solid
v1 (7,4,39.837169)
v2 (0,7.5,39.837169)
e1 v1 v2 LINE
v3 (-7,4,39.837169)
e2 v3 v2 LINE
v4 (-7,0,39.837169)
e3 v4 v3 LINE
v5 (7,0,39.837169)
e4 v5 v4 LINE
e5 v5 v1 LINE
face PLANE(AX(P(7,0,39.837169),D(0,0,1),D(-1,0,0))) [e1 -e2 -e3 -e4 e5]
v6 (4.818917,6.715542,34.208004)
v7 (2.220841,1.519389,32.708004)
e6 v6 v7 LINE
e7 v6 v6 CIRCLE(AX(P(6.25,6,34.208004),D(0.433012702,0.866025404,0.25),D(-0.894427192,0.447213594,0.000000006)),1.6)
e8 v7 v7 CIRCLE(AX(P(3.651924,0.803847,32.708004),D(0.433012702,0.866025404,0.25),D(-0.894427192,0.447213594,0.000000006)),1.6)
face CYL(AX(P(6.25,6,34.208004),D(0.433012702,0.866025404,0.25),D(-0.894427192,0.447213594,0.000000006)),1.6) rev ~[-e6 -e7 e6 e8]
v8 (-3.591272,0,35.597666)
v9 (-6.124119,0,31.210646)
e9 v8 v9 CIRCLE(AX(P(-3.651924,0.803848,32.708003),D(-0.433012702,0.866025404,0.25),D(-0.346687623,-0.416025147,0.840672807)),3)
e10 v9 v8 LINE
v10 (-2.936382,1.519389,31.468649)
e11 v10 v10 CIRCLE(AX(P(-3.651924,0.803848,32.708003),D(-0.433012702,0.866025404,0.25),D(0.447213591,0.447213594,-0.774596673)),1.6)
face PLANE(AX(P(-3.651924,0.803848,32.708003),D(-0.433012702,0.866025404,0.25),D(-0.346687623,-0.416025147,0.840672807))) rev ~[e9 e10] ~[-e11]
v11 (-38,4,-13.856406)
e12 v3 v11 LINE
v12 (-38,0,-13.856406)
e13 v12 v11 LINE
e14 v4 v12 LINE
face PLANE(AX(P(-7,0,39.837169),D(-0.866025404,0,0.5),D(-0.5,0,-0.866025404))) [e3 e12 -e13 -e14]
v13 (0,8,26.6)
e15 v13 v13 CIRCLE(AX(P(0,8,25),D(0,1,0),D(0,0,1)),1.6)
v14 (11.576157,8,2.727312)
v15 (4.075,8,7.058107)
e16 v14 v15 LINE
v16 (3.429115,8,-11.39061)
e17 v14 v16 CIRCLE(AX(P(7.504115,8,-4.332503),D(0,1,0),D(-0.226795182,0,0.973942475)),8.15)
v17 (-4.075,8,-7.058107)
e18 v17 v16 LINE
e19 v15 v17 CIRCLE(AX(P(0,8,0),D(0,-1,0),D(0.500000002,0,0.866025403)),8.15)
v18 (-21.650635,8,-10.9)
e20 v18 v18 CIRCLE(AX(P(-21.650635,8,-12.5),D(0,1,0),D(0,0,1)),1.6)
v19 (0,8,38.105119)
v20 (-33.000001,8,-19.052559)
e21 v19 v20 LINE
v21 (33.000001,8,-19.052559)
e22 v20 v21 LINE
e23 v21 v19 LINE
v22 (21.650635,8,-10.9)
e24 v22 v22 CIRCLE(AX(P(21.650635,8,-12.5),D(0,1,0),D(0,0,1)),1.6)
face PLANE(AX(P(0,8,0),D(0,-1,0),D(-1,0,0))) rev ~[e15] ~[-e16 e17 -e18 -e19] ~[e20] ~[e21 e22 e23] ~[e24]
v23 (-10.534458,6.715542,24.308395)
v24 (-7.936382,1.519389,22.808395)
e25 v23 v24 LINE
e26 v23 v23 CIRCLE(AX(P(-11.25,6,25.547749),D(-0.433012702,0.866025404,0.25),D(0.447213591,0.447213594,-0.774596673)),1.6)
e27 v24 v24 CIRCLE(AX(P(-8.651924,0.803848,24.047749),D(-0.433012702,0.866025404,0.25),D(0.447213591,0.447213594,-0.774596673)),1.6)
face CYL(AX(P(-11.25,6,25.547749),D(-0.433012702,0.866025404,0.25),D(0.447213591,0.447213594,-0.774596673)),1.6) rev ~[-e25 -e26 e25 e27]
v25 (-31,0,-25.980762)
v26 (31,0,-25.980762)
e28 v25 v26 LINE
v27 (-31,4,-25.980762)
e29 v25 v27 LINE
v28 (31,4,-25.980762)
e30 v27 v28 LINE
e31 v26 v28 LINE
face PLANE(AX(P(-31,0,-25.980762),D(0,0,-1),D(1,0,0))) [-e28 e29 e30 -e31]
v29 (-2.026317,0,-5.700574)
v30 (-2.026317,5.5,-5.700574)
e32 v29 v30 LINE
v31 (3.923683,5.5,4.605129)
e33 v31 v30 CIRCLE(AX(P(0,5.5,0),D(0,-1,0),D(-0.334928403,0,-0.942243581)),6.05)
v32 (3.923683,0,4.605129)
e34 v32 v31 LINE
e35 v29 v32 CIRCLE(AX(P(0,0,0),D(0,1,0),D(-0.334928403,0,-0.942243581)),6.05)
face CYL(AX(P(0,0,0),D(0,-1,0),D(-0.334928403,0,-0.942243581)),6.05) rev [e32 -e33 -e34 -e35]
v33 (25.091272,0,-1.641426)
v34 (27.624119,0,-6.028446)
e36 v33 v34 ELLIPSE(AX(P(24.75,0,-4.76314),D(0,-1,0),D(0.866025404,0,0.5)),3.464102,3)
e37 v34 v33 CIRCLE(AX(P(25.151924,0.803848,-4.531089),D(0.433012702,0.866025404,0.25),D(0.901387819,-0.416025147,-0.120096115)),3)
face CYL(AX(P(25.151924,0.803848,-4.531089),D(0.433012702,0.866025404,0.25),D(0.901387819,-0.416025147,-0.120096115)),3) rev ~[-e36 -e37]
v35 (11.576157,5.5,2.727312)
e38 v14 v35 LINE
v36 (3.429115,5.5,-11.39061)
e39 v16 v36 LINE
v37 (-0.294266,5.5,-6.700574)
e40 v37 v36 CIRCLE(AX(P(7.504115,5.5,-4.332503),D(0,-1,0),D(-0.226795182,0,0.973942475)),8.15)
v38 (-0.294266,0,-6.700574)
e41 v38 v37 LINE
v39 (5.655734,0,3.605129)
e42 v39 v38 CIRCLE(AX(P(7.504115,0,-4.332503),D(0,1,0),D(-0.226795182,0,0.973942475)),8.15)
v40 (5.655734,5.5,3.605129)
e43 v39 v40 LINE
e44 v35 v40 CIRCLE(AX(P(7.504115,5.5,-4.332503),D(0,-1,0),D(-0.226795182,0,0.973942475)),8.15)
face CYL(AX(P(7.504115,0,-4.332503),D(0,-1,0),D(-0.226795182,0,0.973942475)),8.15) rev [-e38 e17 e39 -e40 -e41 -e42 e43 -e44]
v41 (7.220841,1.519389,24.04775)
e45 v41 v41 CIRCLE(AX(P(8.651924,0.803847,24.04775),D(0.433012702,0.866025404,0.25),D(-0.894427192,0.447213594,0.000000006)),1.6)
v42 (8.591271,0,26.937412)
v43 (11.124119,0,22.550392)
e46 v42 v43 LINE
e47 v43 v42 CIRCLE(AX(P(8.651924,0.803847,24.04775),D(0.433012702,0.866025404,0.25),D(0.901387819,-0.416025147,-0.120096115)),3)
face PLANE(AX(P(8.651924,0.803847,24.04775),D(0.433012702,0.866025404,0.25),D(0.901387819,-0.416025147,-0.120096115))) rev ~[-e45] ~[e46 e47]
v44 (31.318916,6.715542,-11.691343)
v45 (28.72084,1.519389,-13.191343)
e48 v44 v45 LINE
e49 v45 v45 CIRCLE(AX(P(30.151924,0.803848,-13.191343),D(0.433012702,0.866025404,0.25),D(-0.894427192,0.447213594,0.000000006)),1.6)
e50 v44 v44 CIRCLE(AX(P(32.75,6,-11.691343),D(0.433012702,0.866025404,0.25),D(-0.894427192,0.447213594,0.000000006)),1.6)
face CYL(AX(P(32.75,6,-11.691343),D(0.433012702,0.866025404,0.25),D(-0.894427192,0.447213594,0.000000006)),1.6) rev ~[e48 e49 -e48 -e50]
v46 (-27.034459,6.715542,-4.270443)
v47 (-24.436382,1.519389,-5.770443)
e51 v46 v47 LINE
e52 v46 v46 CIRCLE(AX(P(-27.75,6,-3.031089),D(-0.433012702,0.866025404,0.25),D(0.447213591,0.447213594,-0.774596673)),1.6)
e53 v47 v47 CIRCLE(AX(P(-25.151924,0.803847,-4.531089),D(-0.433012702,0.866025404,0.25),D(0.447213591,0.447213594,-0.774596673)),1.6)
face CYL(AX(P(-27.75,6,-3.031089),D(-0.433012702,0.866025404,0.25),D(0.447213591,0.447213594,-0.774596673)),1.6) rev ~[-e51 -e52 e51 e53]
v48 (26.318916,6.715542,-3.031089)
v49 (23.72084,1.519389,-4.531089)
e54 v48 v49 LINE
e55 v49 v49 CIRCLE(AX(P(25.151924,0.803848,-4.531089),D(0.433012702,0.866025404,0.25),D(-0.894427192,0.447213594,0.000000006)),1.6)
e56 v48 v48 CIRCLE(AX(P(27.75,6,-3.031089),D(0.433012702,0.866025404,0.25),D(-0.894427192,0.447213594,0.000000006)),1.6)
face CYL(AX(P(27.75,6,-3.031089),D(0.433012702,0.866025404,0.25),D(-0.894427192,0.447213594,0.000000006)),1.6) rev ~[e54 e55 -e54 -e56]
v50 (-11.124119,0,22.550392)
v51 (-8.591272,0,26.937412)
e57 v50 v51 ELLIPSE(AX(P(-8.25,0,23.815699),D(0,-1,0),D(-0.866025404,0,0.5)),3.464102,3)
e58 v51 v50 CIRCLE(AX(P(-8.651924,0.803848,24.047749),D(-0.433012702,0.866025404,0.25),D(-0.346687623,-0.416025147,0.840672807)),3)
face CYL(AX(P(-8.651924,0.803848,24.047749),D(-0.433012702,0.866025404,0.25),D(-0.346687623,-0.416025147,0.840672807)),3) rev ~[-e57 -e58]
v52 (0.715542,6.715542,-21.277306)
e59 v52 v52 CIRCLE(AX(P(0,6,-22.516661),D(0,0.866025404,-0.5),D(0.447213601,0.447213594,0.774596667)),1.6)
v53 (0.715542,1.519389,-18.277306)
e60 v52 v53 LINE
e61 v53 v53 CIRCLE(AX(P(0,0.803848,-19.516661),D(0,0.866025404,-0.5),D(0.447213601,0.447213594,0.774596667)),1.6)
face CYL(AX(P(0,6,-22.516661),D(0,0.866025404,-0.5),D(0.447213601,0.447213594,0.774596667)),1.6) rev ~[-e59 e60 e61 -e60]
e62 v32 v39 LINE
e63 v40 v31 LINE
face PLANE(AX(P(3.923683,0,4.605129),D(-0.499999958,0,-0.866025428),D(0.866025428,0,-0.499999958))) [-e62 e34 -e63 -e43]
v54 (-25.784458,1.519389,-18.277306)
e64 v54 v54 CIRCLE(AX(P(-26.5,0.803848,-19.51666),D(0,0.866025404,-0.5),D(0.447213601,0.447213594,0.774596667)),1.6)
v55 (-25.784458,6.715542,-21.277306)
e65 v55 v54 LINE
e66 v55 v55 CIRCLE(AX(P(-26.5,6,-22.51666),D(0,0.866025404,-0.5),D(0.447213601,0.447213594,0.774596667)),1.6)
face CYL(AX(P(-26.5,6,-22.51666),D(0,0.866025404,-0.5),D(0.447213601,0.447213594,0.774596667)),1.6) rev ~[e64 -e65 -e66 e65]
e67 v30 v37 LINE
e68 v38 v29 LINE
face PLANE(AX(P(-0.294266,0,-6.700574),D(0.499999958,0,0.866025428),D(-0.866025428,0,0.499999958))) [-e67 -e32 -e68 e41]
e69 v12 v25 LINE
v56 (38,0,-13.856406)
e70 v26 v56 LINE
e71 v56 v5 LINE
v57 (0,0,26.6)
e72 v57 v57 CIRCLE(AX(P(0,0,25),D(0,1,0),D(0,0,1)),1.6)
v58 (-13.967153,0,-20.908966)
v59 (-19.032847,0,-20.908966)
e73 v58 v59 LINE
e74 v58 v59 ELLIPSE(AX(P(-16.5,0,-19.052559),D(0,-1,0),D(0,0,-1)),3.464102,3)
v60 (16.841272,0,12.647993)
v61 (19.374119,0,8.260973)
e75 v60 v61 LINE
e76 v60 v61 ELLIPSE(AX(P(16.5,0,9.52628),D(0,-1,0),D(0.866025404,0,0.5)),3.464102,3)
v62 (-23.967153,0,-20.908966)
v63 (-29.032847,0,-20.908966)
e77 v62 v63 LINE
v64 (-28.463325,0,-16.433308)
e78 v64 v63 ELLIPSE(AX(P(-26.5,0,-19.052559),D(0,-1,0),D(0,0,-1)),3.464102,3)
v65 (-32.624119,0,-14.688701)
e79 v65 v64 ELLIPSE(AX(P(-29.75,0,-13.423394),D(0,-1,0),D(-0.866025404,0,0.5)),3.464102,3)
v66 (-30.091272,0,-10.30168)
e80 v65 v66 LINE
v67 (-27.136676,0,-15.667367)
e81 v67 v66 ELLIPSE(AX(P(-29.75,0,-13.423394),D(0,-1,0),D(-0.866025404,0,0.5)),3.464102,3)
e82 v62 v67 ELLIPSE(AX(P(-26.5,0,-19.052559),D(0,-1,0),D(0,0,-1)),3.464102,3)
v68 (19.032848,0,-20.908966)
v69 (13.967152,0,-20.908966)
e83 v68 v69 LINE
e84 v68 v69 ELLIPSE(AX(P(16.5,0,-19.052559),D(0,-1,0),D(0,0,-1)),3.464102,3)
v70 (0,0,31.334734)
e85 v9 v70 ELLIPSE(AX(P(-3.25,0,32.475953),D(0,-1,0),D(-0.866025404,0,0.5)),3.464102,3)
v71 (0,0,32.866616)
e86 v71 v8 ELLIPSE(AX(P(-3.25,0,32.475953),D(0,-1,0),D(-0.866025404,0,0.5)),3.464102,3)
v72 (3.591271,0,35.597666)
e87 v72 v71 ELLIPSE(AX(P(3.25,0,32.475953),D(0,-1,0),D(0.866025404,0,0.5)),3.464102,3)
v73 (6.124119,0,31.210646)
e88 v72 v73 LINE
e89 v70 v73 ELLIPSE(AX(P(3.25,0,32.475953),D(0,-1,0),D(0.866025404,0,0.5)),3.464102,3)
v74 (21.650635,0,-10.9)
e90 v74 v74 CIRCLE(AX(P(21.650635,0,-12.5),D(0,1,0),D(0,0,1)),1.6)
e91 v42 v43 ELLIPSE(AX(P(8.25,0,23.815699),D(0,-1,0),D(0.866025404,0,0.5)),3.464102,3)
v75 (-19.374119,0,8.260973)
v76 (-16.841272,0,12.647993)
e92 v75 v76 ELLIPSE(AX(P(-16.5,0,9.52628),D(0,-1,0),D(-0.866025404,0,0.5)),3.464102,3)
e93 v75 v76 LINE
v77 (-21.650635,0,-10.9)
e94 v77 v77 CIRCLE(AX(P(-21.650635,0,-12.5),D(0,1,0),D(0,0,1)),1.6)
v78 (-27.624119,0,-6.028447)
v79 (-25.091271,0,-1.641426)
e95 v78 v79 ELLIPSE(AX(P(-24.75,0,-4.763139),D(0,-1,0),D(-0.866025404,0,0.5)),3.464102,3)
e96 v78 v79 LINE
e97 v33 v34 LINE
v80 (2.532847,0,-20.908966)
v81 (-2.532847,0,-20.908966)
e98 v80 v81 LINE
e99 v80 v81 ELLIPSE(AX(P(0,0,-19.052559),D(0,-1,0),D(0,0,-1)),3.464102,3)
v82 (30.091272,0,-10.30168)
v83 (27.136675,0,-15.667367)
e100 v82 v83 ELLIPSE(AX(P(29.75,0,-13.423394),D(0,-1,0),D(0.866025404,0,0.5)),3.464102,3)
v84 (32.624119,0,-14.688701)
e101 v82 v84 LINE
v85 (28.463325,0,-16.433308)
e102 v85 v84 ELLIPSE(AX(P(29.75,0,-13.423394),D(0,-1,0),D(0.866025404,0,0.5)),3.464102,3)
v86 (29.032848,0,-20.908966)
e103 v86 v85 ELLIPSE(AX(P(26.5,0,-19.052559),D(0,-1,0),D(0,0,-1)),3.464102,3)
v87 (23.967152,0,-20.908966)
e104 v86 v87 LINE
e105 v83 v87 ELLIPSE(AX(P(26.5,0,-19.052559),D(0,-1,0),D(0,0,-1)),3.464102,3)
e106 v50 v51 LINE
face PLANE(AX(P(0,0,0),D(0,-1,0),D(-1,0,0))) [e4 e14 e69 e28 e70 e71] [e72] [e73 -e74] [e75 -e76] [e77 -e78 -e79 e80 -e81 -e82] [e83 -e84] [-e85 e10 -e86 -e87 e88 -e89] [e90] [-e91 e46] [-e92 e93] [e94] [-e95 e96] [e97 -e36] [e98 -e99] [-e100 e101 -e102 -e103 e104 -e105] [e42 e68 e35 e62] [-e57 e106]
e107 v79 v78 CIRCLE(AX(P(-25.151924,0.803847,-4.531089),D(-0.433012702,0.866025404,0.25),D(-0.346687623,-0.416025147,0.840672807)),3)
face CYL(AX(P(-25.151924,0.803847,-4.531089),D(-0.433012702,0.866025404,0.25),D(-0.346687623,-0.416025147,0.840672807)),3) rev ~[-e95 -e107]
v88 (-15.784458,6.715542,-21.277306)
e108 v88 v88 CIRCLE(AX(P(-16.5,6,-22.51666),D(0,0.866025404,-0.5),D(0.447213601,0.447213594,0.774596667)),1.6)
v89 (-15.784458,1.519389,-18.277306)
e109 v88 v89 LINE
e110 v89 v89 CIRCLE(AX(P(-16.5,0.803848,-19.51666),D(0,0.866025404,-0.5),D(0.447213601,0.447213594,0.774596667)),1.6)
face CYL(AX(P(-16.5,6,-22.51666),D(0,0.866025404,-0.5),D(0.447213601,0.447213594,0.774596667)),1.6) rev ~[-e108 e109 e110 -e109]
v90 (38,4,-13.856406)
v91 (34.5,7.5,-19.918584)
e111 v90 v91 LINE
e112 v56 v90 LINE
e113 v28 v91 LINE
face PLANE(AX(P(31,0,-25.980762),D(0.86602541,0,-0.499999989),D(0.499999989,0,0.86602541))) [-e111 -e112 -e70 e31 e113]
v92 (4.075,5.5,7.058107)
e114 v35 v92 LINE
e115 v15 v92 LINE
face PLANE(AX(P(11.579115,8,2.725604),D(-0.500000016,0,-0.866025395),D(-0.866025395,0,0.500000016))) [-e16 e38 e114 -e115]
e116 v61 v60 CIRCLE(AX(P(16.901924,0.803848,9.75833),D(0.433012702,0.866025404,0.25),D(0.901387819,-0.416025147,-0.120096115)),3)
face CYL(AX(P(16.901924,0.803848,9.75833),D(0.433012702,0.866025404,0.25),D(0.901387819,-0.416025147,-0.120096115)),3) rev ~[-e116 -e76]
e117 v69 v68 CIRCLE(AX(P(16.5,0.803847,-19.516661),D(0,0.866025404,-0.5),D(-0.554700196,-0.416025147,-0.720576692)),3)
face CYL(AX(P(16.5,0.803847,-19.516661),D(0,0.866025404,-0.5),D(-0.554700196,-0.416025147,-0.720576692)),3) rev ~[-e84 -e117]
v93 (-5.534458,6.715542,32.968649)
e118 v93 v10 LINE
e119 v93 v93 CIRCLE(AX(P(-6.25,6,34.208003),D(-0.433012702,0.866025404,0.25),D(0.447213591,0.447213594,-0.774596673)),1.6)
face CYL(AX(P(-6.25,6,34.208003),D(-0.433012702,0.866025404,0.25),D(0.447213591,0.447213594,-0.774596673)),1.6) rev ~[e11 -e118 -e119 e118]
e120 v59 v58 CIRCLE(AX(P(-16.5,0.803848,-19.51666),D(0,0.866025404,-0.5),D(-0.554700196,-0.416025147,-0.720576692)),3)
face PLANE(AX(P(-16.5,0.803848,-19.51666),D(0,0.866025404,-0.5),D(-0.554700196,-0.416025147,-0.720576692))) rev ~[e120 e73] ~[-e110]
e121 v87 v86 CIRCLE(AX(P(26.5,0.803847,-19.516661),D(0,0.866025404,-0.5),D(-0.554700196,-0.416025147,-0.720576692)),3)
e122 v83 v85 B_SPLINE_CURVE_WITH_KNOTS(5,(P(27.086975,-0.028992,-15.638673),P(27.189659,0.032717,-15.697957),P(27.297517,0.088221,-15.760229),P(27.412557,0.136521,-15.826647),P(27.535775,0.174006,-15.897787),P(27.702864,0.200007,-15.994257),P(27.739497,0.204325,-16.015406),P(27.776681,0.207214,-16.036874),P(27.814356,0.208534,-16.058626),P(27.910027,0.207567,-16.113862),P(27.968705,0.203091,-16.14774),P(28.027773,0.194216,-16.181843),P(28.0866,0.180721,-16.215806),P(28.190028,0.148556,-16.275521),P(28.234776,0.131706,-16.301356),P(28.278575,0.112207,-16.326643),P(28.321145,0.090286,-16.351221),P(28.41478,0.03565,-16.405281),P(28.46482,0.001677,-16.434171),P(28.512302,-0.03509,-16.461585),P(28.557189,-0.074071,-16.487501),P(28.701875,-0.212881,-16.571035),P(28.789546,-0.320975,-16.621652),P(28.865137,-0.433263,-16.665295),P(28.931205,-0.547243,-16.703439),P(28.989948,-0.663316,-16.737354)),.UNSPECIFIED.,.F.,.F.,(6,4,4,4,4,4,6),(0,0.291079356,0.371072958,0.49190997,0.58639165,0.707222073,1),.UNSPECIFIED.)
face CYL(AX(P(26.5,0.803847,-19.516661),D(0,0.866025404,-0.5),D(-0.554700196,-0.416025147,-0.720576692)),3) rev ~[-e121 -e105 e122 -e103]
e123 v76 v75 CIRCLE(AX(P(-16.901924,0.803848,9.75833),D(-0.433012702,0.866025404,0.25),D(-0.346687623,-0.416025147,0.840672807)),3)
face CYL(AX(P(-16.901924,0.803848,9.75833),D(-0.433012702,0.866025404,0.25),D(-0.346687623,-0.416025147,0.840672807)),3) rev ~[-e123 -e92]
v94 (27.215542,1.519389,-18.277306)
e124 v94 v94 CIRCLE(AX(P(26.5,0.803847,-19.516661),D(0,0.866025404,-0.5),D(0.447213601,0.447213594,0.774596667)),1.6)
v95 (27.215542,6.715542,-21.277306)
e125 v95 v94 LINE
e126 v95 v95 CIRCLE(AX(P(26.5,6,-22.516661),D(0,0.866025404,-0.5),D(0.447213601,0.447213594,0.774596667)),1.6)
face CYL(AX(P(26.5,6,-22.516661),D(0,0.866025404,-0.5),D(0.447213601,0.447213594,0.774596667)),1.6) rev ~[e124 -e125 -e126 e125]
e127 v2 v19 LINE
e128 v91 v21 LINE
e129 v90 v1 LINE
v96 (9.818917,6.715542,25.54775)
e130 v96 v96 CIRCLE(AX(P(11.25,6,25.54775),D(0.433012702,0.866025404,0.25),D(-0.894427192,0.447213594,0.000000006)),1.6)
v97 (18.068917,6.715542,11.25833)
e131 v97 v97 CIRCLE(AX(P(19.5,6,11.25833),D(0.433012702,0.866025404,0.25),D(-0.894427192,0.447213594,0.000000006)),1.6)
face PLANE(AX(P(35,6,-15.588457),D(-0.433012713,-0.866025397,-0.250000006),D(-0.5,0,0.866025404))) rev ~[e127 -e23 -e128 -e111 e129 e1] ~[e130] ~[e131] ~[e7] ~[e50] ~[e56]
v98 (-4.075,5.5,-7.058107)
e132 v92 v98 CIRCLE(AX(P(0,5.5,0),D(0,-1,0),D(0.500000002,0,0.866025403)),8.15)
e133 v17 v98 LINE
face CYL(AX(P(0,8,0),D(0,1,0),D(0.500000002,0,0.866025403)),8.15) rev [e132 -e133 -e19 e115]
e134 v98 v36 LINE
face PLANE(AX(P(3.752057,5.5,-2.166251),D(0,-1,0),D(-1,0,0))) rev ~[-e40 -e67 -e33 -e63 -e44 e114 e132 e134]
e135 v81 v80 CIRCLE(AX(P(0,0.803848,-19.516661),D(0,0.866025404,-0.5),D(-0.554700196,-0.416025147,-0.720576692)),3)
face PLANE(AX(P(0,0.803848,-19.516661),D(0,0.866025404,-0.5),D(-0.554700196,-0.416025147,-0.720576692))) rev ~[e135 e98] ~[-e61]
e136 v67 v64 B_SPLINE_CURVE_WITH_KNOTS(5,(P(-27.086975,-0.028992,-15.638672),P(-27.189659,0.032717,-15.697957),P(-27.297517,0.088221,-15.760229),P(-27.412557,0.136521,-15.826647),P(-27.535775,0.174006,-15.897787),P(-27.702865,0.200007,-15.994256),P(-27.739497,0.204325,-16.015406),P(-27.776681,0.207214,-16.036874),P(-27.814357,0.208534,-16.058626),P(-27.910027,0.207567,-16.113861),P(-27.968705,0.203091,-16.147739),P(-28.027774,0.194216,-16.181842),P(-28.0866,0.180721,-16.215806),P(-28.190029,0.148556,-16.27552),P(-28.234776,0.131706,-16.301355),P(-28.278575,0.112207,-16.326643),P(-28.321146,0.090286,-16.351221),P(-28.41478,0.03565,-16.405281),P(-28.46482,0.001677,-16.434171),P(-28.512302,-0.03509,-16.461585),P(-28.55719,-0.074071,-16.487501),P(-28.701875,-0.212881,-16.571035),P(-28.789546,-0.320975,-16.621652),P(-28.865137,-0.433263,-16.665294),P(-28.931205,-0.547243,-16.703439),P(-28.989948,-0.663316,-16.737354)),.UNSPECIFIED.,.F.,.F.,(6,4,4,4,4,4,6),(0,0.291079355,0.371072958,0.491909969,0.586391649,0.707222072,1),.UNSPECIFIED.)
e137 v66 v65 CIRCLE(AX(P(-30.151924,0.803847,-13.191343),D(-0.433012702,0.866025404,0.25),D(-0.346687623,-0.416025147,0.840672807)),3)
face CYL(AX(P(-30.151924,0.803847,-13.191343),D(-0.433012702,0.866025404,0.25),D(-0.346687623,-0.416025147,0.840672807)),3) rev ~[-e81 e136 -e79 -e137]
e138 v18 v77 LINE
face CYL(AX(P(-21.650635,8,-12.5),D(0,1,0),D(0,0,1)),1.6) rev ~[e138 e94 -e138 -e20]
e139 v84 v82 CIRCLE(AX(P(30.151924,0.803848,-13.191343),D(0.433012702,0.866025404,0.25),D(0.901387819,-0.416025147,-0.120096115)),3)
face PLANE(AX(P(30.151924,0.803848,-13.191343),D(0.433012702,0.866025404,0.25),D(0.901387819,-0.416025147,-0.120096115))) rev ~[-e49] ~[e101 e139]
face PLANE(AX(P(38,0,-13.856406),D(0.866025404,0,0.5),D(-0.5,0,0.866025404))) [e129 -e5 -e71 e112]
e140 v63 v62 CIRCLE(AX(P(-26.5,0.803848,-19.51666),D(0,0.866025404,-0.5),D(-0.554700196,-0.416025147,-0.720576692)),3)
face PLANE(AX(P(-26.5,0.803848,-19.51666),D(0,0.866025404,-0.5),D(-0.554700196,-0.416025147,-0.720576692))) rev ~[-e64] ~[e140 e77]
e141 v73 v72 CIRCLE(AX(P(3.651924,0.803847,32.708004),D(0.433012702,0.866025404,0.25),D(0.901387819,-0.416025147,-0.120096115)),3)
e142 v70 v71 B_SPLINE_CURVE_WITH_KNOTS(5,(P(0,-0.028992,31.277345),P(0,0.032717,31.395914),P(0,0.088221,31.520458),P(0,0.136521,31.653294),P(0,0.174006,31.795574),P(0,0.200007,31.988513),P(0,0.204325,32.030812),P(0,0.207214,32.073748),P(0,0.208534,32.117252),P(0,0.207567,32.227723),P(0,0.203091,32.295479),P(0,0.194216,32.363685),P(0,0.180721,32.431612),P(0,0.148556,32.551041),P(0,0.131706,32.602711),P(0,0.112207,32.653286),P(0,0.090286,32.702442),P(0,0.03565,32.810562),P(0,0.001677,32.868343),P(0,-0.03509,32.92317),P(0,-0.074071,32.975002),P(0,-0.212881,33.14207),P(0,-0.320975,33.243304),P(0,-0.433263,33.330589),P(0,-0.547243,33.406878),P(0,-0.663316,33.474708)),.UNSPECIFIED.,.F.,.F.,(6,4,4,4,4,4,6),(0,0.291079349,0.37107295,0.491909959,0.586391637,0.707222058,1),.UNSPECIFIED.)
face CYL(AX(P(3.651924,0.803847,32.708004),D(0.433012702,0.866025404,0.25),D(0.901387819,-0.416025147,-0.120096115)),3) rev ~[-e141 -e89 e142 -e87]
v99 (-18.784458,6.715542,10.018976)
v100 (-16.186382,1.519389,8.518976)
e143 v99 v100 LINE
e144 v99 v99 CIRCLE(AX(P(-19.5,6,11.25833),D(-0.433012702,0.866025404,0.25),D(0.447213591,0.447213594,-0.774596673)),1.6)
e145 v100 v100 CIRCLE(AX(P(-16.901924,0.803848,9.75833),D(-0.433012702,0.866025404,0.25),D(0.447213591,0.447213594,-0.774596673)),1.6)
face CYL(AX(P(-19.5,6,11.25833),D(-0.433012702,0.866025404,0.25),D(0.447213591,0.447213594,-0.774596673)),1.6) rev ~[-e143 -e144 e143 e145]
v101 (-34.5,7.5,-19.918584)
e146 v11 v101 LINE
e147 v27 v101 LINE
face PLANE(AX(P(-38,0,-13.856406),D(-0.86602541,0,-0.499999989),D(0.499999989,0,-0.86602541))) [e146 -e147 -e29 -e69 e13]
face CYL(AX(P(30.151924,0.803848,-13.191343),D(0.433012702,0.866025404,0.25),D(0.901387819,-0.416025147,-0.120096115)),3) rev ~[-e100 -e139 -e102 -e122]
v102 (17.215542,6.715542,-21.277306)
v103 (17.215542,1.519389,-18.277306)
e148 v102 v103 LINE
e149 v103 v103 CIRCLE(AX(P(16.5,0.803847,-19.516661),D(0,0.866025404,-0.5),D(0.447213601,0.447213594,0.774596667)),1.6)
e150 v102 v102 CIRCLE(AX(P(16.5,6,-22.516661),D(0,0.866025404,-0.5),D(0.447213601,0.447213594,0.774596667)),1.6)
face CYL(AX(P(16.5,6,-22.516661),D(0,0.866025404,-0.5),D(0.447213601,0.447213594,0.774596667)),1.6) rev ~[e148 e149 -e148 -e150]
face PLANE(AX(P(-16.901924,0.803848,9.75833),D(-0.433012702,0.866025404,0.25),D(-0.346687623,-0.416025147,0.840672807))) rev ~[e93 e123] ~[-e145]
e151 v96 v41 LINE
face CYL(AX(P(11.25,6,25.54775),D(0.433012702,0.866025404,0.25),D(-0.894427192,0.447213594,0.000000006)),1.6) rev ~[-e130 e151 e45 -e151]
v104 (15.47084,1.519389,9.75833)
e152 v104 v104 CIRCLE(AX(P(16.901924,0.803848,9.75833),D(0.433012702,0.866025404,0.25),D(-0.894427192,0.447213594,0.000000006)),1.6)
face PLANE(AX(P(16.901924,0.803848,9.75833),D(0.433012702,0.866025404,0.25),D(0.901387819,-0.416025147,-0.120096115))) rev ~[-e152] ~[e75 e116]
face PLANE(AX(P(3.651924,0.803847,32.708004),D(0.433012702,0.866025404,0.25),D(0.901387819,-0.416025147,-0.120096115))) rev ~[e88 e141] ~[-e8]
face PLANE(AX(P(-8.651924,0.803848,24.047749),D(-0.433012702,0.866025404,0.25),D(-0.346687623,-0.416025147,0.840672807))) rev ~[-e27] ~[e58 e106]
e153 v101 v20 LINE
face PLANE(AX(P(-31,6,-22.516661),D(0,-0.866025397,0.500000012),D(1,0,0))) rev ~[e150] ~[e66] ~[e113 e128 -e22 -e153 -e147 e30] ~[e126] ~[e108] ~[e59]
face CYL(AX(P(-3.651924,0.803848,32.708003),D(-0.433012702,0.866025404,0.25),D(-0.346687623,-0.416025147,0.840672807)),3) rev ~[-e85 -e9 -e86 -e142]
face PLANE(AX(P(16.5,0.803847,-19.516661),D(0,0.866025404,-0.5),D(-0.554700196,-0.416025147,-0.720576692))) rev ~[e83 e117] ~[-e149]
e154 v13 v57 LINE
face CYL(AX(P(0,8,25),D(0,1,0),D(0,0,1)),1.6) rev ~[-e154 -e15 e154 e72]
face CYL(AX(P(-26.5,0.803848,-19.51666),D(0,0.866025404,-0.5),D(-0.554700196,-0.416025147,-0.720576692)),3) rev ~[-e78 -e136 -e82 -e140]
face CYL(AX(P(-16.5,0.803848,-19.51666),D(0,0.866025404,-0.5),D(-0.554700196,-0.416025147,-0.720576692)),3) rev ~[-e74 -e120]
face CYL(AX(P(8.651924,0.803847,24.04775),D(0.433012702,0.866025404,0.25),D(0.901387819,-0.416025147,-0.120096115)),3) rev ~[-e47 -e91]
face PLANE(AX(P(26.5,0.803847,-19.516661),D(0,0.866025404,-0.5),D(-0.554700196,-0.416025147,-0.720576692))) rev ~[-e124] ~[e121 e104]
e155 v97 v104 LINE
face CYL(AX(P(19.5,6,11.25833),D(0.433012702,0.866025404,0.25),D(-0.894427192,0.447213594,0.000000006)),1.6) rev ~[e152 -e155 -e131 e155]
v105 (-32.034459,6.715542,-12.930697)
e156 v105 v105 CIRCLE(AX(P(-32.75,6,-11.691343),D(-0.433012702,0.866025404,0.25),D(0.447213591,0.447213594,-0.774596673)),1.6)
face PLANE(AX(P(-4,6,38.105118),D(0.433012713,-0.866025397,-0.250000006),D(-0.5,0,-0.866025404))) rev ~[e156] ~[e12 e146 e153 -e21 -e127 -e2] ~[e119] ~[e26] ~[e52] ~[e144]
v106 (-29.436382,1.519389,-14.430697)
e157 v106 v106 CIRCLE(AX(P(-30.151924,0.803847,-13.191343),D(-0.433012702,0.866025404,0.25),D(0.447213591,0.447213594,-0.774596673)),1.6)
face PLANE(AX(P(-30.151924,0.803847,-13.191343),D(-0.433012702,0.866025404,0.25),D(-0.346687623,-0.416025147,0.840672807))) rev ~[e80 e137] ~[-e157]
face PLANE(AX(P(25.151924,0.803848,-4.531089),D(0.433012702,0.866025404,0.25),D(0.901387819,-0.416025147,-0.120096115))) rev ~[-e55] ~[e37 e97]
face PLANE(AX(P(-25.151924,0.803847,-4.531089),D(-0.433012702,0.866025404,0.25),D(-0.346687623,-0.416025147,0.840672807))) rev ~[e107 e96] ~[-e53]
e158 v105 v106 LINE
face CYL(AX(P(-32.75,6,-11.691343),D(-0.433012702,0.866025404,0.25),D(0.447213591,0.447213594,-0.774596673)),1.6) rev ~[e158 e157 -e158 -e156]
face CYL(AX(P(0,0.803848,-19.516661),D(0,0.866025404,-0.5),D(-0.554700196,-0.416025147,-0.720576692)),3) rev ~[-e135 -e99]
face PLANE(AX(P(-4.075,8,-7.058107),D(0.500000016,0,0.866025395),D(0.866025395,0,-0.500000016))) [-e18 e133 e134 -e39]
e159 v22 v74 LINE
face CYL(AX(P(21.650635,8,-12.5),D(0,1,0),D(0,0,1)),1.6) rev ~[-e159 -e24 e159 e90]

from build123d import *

# Parameters (mm, degrees)
BOSS_EXTRUDE1_DEPTH   = 8
CHAMFER1_SIZE         = 4
CHAMFER1_SIZE2        = 6.928203
CHAMFER1_PART_2_SIZE  = 4
CHAMFER1_PART_2_SIZE2 = 6.928203
CHAMFER1_PART_3_SIZE  = 4
CHAMFER1_PART_3_SIZE2 = 6.928203
CUT_EXTRUDE1_REACH    = 61.292
SKETCH2_R             = 1.6
CUT_EXTRUDE2_REACH    = 67.292
CUT_EXTRUDE2_START    = -6
SKETCH3_R             = 3
CIRPATTERN1_COUNT     = 3
CUT_EXTRUDE4_DEPTH    = 2.5
CUT_EXTRUDE5_REACH    = 57.633
SKETCH10_R            = 1.6


with BuildPart() as part:
    # Sketch1 → Boss-Extrude1 (new body)
    with BuildSketch(Plane(origin=(0, 0, 0), x_dir=(1, 0, 0), z_dir=(0, 1, 0))):
        Polygon((-31, 25.980762), (31, 25.980762), (38, 13.856406), (7, -39.837169), (-7, -39.837169), (-38, 13.856406), align=None)
        with BuildLine():
            Line((3.923683, -4.605129), (5.655734, -3.605129))
            ThreePointArc((5.655734, -3.605129), (14.562222, 8.407503), (-0.294266, 6.700574))
            Line((-0.294266, 6.700574), (-2.026317, 5.700574))
            ThreePointArc((-2.026317, 5.700574), (-5.239454, -3.025), (3.923683, -4.605129))
        make_face(mode=Mode.SUBTRACT)
    extrude(amount=BOSS_EXTRUDE1_DEPTH)

    # Chamfer1
    chamfer1_edges = [part.edges().sort_by_distance(p)[0] for p in [
        (22.5, 8, 12.990381),
    ]]
    chamfer1_side = [part.faces().sort_by_distance(p)[0] for p in [
        (22.5, 4, 12.990381),
    ]]
    chamfer(chamfer1_edges, length=CHAMFER1_SIZE, length2=CHAMFER1_SIZE2, reference=chamfer1_side[0])

    # Chamfer1 part 2
    chamfer1_part_2_edges = [part.edges().sort_by_distance(p)[0] for p in [
        (-22.5, 8, 12.990381),
    ]]
    chamfer1_part_2_side = [part.faces().sort_by_distance(p)[0] for p in [
        (-22.5, 4, 12.990381),
    ]]
    chamfer(chamfer1_part_2_edges, length=CHAMFER1_PART_2_SIZE, length2=CHAMFER1_PART_2_SIZE2, reference=chamfer1_part_2_side[0])

    # Chamfer1 part 3
    chamfer1_part_3_edges = [part.edges().sort_by_distance(p)[0] for p in [
        (0, 8, -25.980762),
    ]]
    chamfer1_part_3_side = [part.faces().sort_by_distance(p)[0] for p in [
        (0, 4, -25.980762),
    ]]
    chamfer(chamfer1_part_3_edges, length=CHAMFER1_PART_3_SIZE, length2=CHAMFER1_PART_3_SIZE2, reference=chamfer1_part_3_side[0])

    # Cut-Extrude1: up to this plane
    cut_extrude1_end = Plane(origin=(0, 0, 0), z_dir=(0, -1, 0))
    # Sketch2 → Cut-Extrude1 (cut, up to the surface)
    with BuildSketch(Plane(origin=(7.125, 14.25, 4.113621), x_dir=(0.9013878188659966, -0.41602514716892336, -0.12009611535381544), z_dir=(0.43301270189222085, 0.8660254037844383, 0.24999999999999917)), mode=Mode.PRIVATE) as cut_extrude1_sk1:
        with Locations(Location((28.428385, 12.89678, 0), (0, 0, 172.874984))):
            Circle(SKETCH2_R)
    cut_extrude1_tool1 = split(extrude(cut_extrude1_sk1.sketch, amount=-CUT_EXTRUDE1_REACH, mode=Mode.PRIVATE), bisect_by=cut_extrude1_end, keep=Keep.BOTH, mode=Mode.PRIVATE)
    # Sketch2 → Cut-Extrude1 (cut, up to the surface)
    with BuildSketch(Plane(origin=(7.125, 14.25, 4.113621), x_dir=(0.9013878188659966, -0.41602514716892336, -0.12009611535381544), z_dir=(0.43301270189222085, 0.8660254037844383, 0.24999999999999917)), mode=Mode.PRIVATE) as cut_extrude1_sk2:
        with Locations(Location((-0.970725, -31.201886, 0), (0, 0, 172.874984))):
            Circle(SKETCH2_R)
    cut_extrude1_tool2 = split(extrude(cut_extrude1_sk2.sketch, amount=-CUT_EXTRUDE1_REACH, mode=Mode.PRIVATE), bisect_by=cut_extrude1_end, keep=Keep.BOTH, mode=Mode.PRIVATE)
    # Sketch2 → Cut-Extrude1 (cut, up to the surface)
    with BuildSketch(Plane(origin=(7.125, 14.25, 4.113621), x_dir=(0.9013878188659966, -0.41602514716892336, -0.12009611535381544), z_dir=(0.43301270189222085, 0.8660254037844383, 0.24999999999999917)), mode=Mode.PRIVATE) as cut_extrude1_sk3:
        with Locations(Location((13.72883, -9.152553, 0), (0, 0, 172.874984))):
            Circle(SKETCH2_R)
    cut_extrude1_tool3 = split(extrude(cut_extrude1_sk3.sketch, amount=-CUT_EXTRUDE1_REACH, mode=Mode.PRIVATE), bisect_by=cut_extrude1_end, keep=Keep.BOTH, mode=Mode.PRIVATE)
    # Sketch2 → Cut-Extrude1 (cut, up to the surface)
    with BuildSketch(Plane(origin=(7.125, 14.25, 4.113621), x_dir=(0.9013878188659966, -0.41602514716892336, -0.12009611535381544), z_dir=(0.43301270189222085, 0.8660254037844383, 0.24999999999999917)), mode=Mode.PRIVATE) as cut_extrude1_sk4:
        with Locations(Location((22.881383, 4.576277, 0), (0, 0, 172.874984))):
            Circle(SKETCH2_R)
    cut_extrude1_tool4 = split(extrude(cut_extrude1_sk4.sketch, amount=-CUT_EXTRUDE1_REACH, mode=Mode.PRIVATE), bisect_by=cut_extrude1_end, keep=Keep.BOTH, mode=Mode.PRIVATE)
    # Sketch2 → Cut-Extrude1 (cut, up to the surface)
    with BuildSketch(Plane(origin=(7.125, 14.25, 4.113621), x_dir=(0.9013878188659966, -0.41602514716892336, -0.12009611535381544), z_dir=(0.43301270189222085, 0.8660254037844383, 0.24999999999999917)), mode=Mode.PRIVATE) as cut_extrude1_sk5:
        with Locations(Location((4.576277, -22.881383, 0), (0, 0, 172.874984))):
            Circle(SKETCH2_R)
    cut_extrude1_tool5 = split(extrude(cut_extrude1_sk5.sketch, amount=-CUT_EXTRUDE1_REACH, mode=Mode.PRIVATE), bisect_by=cut_extrude1_end, keep=Keep.BOTH, mode=Mode.PRIVATE)
    cut_extrude1 = cut_extrude1_tool1.solids().sort_by_distance((32.75, 6, -11.691343))[0] + cut_extrude1_tool2.solids().sort_by_distance((6.25, 6, 34.208003))[0] + cut_extrude1_tool3.solids().sort_by_distance((19.5, 6, 11.25833))[0] + cut_extrude1_tool4.solids().sort_by_distance((27.75, 6, -3.031089))[0] + cut_extrude1_tool5.solids().sort_by_distance((11.25, 6, 25.547749))[0]
    add(cut_extrude1, mode=Mode.SUBTRACT)

    # Sketch3 → Cut-Extrude2 (cut, up to next)
    with BuildSketch(Plane(origin=(7.125, 14.25, 4.113621), x_dir=(0.9013878188659967, -0.41602514716892325, -0.12009611535381544), z_dir=(0.43301270189222074, 0.8660254037844383, 0.24999999999999925)).offset(CUT_EXTRUDE2_START), mode=Mode.PRIVATE) as cut_extrude2_sk1:
        with Locations((28.428385, 12.89678)):
            Circle(SKETCH3_R)
    cut_extrude2_tool1 = extrude(cut_extrude2_sk1.sketch, amount=-CUT_EXTRUDE2_REACH, mode=Mode.PRIVATE) & part.part
    # Sketch3 → Cut-Extrude2 (cut, up to next)
    with BuildSketch(Plane(origin=(7.125, 14.25, 4.113621), x_dir=(0.9013878188659967, -0.41602514716892325, -0.12009611535381544), z_dir=(0.43301270189222074, 0.8660254037844383, 0.24999999999999925)).offset(CUT_EXTRUDE2_START), mode=Mode.PRIVATE) as cut_extrude2_sk2:
        with Locations((-0.970725, -31.201886)):
            Circle(SKETCH3_R)
    cut_extrude2_tool2 = extrude(cut_extrude2_sk2.sketch, amount=-CUT_EXTRUDE2_REACH, mode=Mode.PRIVATE) & part.part
    # Sketch3 → Cut-Extrude2 (cut, up to next)
    with BuildSketch(Plane(origin=(7.125, 14.25, 4.113621), x_dir=(0.9013878188659967, -0.41602514716892325, -0.12009611535381544), z_dir=(0.43301270189222074, 0.8660254037844383, 0.24999999999999925)).offset(CUT_EXTRUDE2_START), mode=Mode.PRIVATE) as cut_extrude2_sk3:
        with Locations((13.72883, -9.152553)):
            Circle(SKETCH3_R)
    cut_extrude2_tool3 = extrude(cut_extrude2_sk3.sketch, amount=-CUT_EXTRUDE2_REACH, mode=Mode.PRIVATE) & part.part
    # Sketch3 → Cut-Extrude2 (cut, up to next)
    with BuildSketch(Plane(origin=(7.125, 14.25, 4.113621), x_dir=(0.9013878188659967, -0.41602514716892325, -0.12009611535381544), z_dir=(0.43301270189222074, 0.8660254037844383, 0.24999999999999925)).offset(CUT_EXTRUDE2_START), mode=Mode.PRIVATE) as cut_extrude2_sk4:
        with Locations((22.881383, 4.576277)):
            Circle(SKETCH3_R)
    cut_extrude2_tool4 = extrude(cut_extrude2_sk4.sketch, amount=-CUT_EXTRUDE2_REACH, mode=Mode.PRIVATE) & part.part
    # Sketch3 → Cut-Extrude2 (cut, up to next)
    with BuildSketch(Plane(origin=(7.125, 14.25, 4.113621), x_dir=(0.9013878188659967, -0.41602514716892325, -0.12009611535381544), z_dir=(0.43301270189222074, 0.8660254037844383, 0.24999999999999925)).offset(CUT_EXTRUDE2_START), mode=Mode.PRIVATE) as cut_extrude2_sk5:
        with Locations((4.576277, -22.881383)):
            Circle(SKETCH3_R)
    cut_extrude2_tool5 = extrude(cut_extrude2_sk5.sketch, amount=-CUT_EXTRUDE2_REACH, mode=Mode.PRIVATE) & part.part
    cut_extrude2_1 = cut_extrude2_tool1.solids().sort_by_distance((30.151924, 0.803848, -13.191343))[0]
    add(cut_extrude2_1, mode=Mode.SUBTRACT)
    cut_extrude2_2 = cut_extrude2_tool2.solids().sort_by_distance((3.651924, 0.803848, 32.708003))[0]
    add(cut_extrude2_2, mode=Mode.SUBTRACT)
    cut_extrude2_3 = cut_extrude2_tool3.solids().sort_by_distance((16.901924, 0.803848, 9.75833))[0]
    add(cut_extrude2_3, mode=Mode.SUBTRACT)
    cut_extrude2_4 = cut_extrude2_tool4.solids().sort_by_distance((25.151924, 0.803848, -4.531089))[0]
    add(cut_extrude2_4, mode=Mode.SUBTRACT)
    cut_extrude2_5 = cut_extrude2_tool5.solids().sort_by_distance((8.651924, 0.803848, 24.047749))[0]
    add(cut_extrude2_5, mode=Mode.SUBTRACT)
    cut_extrude2 = cut_extrude2_1 + cut_extrude2_2 + cut_extrude2_3 + cut_extrude2_4 + cut_extrude2_5  # Cut-Extrude2 as one shape, for the pattern or mirror that repeats it

    # CirPattern1: Cut-Extrude1, Cut-Extrude2 ×3 about axis
    cirpattern1_axis = Axis((0, 0, 0), (0, 1, 0))
    add([cut_extrude1.rotate(cirpattern1_axis, i * 360 / CIRPATTERN1_COUNT) for i in range(1, CIRPATTERN1_COUNT)], mode=Mode.SUBTRACT)
    add([cut_extrude2.rotate(cirpattern1_axis, i * 360 / CIRPATTERN1_COUNT) for i in range(1, CIRPATTERN1_COUNT)], mode=Mode.SUBTRACT)

    # Sketch8 → Cut-Extrude4 (cut)
    with BuildSketch(Plane(origin=(0, 8, 0), x_dir=(1, 0, 0), z_dir=(0, 1, 0))):
        with BuildLine():
            Line((-4.075, 7.058107), (3.429115, 11.39061))
            ThreePointArc((3.429115, 11.39061), (14.562222, 8.407503), (11.579115, -2.725604))
            Line((11.579115, -2.725604), (4.075, -7.058107))
            ThreePointArc((4.075, -7.058107), (-7.058107, -4.075), (-4.075, 7.058107))
        make_face()
    extrude(amount=-CUT_EXTRUDE4_DEPTH, mode=Mode.SUBTRACT)

    # Sketch10 → Cut-Extrude5 (cut, up to next)
    with BuildSketch(Plane(origin=(0, 8, 0), x_dir=(1, 0, 0), z_dir=(0, 1, 0)), mode=Mode.PRIVATE) as cut_extrude5_sk1:
        with Locations(Location((21.650635, 12.5, 0), (0, 0, 270))):
            Circle(SKETCH10_R)
    cut_extrude5_tool1 = extrude(cut_extrude5_sk1.sketch, amount=-CUT_EXTRUDE5_REACH, mode=Mode.PRIVATE) & part.part
    # Sketch10 → Cut-Extrude5 (cut, up to next)
    with BuildSketch(Plane(origin=(0, 8, 0), x_dir=(1, 0, 0), z_dir=(0, 1, 0)), mode=Mode.PRIVATE) as cut_extrude5_sk2:
        with Locations(Location((0, -25, 0), (0, 0, 270))):
            Circle(SKETCH10_R)
    cut_extrude5_tool2 = extrude(cut_extrude5_sk2.sketch, amount=-CUT_EXTRUDE5_REACH, mode=Mode.PRIVATE) & part.part
    # Sketch10 → Cut-Extrude5 (cut, up to next)
    with BuildSketch(Plane(origin=(0, 8, 0), x_dir=(1, 0, 0), z_dir=(0, 1, 0)), mode=Mode.PRIVATE) as cut_extrude5_sk3:
        with Locations(Location((-21.650635, 12.5, 0), (0, 0, 270))):
            Circle(SKETCH10_R)
    cut_extrude5_tool3 = extrude(cut_extrude5_sk3.sketch, amount=-CUT_EXTRUDE5_REACH, mode=Mode.PRIVATE) & part.part
    add(cut_extrude5_tool1.solids().sort_by_distance((21.650635, 8, -12.5))[0], mode=Mode.SUBTRACT)
    add(cut_extrude5_tool2.solids().sort_by_distance((0, 8, 25))[0], mode=Mode.SUBTRACT)
    add(cut_extrude5_tool3.solids().sort_by_distance((-21.650635, 8, -12.5))[0], mode=Mode.SUBTRACT)


solid = part.part
